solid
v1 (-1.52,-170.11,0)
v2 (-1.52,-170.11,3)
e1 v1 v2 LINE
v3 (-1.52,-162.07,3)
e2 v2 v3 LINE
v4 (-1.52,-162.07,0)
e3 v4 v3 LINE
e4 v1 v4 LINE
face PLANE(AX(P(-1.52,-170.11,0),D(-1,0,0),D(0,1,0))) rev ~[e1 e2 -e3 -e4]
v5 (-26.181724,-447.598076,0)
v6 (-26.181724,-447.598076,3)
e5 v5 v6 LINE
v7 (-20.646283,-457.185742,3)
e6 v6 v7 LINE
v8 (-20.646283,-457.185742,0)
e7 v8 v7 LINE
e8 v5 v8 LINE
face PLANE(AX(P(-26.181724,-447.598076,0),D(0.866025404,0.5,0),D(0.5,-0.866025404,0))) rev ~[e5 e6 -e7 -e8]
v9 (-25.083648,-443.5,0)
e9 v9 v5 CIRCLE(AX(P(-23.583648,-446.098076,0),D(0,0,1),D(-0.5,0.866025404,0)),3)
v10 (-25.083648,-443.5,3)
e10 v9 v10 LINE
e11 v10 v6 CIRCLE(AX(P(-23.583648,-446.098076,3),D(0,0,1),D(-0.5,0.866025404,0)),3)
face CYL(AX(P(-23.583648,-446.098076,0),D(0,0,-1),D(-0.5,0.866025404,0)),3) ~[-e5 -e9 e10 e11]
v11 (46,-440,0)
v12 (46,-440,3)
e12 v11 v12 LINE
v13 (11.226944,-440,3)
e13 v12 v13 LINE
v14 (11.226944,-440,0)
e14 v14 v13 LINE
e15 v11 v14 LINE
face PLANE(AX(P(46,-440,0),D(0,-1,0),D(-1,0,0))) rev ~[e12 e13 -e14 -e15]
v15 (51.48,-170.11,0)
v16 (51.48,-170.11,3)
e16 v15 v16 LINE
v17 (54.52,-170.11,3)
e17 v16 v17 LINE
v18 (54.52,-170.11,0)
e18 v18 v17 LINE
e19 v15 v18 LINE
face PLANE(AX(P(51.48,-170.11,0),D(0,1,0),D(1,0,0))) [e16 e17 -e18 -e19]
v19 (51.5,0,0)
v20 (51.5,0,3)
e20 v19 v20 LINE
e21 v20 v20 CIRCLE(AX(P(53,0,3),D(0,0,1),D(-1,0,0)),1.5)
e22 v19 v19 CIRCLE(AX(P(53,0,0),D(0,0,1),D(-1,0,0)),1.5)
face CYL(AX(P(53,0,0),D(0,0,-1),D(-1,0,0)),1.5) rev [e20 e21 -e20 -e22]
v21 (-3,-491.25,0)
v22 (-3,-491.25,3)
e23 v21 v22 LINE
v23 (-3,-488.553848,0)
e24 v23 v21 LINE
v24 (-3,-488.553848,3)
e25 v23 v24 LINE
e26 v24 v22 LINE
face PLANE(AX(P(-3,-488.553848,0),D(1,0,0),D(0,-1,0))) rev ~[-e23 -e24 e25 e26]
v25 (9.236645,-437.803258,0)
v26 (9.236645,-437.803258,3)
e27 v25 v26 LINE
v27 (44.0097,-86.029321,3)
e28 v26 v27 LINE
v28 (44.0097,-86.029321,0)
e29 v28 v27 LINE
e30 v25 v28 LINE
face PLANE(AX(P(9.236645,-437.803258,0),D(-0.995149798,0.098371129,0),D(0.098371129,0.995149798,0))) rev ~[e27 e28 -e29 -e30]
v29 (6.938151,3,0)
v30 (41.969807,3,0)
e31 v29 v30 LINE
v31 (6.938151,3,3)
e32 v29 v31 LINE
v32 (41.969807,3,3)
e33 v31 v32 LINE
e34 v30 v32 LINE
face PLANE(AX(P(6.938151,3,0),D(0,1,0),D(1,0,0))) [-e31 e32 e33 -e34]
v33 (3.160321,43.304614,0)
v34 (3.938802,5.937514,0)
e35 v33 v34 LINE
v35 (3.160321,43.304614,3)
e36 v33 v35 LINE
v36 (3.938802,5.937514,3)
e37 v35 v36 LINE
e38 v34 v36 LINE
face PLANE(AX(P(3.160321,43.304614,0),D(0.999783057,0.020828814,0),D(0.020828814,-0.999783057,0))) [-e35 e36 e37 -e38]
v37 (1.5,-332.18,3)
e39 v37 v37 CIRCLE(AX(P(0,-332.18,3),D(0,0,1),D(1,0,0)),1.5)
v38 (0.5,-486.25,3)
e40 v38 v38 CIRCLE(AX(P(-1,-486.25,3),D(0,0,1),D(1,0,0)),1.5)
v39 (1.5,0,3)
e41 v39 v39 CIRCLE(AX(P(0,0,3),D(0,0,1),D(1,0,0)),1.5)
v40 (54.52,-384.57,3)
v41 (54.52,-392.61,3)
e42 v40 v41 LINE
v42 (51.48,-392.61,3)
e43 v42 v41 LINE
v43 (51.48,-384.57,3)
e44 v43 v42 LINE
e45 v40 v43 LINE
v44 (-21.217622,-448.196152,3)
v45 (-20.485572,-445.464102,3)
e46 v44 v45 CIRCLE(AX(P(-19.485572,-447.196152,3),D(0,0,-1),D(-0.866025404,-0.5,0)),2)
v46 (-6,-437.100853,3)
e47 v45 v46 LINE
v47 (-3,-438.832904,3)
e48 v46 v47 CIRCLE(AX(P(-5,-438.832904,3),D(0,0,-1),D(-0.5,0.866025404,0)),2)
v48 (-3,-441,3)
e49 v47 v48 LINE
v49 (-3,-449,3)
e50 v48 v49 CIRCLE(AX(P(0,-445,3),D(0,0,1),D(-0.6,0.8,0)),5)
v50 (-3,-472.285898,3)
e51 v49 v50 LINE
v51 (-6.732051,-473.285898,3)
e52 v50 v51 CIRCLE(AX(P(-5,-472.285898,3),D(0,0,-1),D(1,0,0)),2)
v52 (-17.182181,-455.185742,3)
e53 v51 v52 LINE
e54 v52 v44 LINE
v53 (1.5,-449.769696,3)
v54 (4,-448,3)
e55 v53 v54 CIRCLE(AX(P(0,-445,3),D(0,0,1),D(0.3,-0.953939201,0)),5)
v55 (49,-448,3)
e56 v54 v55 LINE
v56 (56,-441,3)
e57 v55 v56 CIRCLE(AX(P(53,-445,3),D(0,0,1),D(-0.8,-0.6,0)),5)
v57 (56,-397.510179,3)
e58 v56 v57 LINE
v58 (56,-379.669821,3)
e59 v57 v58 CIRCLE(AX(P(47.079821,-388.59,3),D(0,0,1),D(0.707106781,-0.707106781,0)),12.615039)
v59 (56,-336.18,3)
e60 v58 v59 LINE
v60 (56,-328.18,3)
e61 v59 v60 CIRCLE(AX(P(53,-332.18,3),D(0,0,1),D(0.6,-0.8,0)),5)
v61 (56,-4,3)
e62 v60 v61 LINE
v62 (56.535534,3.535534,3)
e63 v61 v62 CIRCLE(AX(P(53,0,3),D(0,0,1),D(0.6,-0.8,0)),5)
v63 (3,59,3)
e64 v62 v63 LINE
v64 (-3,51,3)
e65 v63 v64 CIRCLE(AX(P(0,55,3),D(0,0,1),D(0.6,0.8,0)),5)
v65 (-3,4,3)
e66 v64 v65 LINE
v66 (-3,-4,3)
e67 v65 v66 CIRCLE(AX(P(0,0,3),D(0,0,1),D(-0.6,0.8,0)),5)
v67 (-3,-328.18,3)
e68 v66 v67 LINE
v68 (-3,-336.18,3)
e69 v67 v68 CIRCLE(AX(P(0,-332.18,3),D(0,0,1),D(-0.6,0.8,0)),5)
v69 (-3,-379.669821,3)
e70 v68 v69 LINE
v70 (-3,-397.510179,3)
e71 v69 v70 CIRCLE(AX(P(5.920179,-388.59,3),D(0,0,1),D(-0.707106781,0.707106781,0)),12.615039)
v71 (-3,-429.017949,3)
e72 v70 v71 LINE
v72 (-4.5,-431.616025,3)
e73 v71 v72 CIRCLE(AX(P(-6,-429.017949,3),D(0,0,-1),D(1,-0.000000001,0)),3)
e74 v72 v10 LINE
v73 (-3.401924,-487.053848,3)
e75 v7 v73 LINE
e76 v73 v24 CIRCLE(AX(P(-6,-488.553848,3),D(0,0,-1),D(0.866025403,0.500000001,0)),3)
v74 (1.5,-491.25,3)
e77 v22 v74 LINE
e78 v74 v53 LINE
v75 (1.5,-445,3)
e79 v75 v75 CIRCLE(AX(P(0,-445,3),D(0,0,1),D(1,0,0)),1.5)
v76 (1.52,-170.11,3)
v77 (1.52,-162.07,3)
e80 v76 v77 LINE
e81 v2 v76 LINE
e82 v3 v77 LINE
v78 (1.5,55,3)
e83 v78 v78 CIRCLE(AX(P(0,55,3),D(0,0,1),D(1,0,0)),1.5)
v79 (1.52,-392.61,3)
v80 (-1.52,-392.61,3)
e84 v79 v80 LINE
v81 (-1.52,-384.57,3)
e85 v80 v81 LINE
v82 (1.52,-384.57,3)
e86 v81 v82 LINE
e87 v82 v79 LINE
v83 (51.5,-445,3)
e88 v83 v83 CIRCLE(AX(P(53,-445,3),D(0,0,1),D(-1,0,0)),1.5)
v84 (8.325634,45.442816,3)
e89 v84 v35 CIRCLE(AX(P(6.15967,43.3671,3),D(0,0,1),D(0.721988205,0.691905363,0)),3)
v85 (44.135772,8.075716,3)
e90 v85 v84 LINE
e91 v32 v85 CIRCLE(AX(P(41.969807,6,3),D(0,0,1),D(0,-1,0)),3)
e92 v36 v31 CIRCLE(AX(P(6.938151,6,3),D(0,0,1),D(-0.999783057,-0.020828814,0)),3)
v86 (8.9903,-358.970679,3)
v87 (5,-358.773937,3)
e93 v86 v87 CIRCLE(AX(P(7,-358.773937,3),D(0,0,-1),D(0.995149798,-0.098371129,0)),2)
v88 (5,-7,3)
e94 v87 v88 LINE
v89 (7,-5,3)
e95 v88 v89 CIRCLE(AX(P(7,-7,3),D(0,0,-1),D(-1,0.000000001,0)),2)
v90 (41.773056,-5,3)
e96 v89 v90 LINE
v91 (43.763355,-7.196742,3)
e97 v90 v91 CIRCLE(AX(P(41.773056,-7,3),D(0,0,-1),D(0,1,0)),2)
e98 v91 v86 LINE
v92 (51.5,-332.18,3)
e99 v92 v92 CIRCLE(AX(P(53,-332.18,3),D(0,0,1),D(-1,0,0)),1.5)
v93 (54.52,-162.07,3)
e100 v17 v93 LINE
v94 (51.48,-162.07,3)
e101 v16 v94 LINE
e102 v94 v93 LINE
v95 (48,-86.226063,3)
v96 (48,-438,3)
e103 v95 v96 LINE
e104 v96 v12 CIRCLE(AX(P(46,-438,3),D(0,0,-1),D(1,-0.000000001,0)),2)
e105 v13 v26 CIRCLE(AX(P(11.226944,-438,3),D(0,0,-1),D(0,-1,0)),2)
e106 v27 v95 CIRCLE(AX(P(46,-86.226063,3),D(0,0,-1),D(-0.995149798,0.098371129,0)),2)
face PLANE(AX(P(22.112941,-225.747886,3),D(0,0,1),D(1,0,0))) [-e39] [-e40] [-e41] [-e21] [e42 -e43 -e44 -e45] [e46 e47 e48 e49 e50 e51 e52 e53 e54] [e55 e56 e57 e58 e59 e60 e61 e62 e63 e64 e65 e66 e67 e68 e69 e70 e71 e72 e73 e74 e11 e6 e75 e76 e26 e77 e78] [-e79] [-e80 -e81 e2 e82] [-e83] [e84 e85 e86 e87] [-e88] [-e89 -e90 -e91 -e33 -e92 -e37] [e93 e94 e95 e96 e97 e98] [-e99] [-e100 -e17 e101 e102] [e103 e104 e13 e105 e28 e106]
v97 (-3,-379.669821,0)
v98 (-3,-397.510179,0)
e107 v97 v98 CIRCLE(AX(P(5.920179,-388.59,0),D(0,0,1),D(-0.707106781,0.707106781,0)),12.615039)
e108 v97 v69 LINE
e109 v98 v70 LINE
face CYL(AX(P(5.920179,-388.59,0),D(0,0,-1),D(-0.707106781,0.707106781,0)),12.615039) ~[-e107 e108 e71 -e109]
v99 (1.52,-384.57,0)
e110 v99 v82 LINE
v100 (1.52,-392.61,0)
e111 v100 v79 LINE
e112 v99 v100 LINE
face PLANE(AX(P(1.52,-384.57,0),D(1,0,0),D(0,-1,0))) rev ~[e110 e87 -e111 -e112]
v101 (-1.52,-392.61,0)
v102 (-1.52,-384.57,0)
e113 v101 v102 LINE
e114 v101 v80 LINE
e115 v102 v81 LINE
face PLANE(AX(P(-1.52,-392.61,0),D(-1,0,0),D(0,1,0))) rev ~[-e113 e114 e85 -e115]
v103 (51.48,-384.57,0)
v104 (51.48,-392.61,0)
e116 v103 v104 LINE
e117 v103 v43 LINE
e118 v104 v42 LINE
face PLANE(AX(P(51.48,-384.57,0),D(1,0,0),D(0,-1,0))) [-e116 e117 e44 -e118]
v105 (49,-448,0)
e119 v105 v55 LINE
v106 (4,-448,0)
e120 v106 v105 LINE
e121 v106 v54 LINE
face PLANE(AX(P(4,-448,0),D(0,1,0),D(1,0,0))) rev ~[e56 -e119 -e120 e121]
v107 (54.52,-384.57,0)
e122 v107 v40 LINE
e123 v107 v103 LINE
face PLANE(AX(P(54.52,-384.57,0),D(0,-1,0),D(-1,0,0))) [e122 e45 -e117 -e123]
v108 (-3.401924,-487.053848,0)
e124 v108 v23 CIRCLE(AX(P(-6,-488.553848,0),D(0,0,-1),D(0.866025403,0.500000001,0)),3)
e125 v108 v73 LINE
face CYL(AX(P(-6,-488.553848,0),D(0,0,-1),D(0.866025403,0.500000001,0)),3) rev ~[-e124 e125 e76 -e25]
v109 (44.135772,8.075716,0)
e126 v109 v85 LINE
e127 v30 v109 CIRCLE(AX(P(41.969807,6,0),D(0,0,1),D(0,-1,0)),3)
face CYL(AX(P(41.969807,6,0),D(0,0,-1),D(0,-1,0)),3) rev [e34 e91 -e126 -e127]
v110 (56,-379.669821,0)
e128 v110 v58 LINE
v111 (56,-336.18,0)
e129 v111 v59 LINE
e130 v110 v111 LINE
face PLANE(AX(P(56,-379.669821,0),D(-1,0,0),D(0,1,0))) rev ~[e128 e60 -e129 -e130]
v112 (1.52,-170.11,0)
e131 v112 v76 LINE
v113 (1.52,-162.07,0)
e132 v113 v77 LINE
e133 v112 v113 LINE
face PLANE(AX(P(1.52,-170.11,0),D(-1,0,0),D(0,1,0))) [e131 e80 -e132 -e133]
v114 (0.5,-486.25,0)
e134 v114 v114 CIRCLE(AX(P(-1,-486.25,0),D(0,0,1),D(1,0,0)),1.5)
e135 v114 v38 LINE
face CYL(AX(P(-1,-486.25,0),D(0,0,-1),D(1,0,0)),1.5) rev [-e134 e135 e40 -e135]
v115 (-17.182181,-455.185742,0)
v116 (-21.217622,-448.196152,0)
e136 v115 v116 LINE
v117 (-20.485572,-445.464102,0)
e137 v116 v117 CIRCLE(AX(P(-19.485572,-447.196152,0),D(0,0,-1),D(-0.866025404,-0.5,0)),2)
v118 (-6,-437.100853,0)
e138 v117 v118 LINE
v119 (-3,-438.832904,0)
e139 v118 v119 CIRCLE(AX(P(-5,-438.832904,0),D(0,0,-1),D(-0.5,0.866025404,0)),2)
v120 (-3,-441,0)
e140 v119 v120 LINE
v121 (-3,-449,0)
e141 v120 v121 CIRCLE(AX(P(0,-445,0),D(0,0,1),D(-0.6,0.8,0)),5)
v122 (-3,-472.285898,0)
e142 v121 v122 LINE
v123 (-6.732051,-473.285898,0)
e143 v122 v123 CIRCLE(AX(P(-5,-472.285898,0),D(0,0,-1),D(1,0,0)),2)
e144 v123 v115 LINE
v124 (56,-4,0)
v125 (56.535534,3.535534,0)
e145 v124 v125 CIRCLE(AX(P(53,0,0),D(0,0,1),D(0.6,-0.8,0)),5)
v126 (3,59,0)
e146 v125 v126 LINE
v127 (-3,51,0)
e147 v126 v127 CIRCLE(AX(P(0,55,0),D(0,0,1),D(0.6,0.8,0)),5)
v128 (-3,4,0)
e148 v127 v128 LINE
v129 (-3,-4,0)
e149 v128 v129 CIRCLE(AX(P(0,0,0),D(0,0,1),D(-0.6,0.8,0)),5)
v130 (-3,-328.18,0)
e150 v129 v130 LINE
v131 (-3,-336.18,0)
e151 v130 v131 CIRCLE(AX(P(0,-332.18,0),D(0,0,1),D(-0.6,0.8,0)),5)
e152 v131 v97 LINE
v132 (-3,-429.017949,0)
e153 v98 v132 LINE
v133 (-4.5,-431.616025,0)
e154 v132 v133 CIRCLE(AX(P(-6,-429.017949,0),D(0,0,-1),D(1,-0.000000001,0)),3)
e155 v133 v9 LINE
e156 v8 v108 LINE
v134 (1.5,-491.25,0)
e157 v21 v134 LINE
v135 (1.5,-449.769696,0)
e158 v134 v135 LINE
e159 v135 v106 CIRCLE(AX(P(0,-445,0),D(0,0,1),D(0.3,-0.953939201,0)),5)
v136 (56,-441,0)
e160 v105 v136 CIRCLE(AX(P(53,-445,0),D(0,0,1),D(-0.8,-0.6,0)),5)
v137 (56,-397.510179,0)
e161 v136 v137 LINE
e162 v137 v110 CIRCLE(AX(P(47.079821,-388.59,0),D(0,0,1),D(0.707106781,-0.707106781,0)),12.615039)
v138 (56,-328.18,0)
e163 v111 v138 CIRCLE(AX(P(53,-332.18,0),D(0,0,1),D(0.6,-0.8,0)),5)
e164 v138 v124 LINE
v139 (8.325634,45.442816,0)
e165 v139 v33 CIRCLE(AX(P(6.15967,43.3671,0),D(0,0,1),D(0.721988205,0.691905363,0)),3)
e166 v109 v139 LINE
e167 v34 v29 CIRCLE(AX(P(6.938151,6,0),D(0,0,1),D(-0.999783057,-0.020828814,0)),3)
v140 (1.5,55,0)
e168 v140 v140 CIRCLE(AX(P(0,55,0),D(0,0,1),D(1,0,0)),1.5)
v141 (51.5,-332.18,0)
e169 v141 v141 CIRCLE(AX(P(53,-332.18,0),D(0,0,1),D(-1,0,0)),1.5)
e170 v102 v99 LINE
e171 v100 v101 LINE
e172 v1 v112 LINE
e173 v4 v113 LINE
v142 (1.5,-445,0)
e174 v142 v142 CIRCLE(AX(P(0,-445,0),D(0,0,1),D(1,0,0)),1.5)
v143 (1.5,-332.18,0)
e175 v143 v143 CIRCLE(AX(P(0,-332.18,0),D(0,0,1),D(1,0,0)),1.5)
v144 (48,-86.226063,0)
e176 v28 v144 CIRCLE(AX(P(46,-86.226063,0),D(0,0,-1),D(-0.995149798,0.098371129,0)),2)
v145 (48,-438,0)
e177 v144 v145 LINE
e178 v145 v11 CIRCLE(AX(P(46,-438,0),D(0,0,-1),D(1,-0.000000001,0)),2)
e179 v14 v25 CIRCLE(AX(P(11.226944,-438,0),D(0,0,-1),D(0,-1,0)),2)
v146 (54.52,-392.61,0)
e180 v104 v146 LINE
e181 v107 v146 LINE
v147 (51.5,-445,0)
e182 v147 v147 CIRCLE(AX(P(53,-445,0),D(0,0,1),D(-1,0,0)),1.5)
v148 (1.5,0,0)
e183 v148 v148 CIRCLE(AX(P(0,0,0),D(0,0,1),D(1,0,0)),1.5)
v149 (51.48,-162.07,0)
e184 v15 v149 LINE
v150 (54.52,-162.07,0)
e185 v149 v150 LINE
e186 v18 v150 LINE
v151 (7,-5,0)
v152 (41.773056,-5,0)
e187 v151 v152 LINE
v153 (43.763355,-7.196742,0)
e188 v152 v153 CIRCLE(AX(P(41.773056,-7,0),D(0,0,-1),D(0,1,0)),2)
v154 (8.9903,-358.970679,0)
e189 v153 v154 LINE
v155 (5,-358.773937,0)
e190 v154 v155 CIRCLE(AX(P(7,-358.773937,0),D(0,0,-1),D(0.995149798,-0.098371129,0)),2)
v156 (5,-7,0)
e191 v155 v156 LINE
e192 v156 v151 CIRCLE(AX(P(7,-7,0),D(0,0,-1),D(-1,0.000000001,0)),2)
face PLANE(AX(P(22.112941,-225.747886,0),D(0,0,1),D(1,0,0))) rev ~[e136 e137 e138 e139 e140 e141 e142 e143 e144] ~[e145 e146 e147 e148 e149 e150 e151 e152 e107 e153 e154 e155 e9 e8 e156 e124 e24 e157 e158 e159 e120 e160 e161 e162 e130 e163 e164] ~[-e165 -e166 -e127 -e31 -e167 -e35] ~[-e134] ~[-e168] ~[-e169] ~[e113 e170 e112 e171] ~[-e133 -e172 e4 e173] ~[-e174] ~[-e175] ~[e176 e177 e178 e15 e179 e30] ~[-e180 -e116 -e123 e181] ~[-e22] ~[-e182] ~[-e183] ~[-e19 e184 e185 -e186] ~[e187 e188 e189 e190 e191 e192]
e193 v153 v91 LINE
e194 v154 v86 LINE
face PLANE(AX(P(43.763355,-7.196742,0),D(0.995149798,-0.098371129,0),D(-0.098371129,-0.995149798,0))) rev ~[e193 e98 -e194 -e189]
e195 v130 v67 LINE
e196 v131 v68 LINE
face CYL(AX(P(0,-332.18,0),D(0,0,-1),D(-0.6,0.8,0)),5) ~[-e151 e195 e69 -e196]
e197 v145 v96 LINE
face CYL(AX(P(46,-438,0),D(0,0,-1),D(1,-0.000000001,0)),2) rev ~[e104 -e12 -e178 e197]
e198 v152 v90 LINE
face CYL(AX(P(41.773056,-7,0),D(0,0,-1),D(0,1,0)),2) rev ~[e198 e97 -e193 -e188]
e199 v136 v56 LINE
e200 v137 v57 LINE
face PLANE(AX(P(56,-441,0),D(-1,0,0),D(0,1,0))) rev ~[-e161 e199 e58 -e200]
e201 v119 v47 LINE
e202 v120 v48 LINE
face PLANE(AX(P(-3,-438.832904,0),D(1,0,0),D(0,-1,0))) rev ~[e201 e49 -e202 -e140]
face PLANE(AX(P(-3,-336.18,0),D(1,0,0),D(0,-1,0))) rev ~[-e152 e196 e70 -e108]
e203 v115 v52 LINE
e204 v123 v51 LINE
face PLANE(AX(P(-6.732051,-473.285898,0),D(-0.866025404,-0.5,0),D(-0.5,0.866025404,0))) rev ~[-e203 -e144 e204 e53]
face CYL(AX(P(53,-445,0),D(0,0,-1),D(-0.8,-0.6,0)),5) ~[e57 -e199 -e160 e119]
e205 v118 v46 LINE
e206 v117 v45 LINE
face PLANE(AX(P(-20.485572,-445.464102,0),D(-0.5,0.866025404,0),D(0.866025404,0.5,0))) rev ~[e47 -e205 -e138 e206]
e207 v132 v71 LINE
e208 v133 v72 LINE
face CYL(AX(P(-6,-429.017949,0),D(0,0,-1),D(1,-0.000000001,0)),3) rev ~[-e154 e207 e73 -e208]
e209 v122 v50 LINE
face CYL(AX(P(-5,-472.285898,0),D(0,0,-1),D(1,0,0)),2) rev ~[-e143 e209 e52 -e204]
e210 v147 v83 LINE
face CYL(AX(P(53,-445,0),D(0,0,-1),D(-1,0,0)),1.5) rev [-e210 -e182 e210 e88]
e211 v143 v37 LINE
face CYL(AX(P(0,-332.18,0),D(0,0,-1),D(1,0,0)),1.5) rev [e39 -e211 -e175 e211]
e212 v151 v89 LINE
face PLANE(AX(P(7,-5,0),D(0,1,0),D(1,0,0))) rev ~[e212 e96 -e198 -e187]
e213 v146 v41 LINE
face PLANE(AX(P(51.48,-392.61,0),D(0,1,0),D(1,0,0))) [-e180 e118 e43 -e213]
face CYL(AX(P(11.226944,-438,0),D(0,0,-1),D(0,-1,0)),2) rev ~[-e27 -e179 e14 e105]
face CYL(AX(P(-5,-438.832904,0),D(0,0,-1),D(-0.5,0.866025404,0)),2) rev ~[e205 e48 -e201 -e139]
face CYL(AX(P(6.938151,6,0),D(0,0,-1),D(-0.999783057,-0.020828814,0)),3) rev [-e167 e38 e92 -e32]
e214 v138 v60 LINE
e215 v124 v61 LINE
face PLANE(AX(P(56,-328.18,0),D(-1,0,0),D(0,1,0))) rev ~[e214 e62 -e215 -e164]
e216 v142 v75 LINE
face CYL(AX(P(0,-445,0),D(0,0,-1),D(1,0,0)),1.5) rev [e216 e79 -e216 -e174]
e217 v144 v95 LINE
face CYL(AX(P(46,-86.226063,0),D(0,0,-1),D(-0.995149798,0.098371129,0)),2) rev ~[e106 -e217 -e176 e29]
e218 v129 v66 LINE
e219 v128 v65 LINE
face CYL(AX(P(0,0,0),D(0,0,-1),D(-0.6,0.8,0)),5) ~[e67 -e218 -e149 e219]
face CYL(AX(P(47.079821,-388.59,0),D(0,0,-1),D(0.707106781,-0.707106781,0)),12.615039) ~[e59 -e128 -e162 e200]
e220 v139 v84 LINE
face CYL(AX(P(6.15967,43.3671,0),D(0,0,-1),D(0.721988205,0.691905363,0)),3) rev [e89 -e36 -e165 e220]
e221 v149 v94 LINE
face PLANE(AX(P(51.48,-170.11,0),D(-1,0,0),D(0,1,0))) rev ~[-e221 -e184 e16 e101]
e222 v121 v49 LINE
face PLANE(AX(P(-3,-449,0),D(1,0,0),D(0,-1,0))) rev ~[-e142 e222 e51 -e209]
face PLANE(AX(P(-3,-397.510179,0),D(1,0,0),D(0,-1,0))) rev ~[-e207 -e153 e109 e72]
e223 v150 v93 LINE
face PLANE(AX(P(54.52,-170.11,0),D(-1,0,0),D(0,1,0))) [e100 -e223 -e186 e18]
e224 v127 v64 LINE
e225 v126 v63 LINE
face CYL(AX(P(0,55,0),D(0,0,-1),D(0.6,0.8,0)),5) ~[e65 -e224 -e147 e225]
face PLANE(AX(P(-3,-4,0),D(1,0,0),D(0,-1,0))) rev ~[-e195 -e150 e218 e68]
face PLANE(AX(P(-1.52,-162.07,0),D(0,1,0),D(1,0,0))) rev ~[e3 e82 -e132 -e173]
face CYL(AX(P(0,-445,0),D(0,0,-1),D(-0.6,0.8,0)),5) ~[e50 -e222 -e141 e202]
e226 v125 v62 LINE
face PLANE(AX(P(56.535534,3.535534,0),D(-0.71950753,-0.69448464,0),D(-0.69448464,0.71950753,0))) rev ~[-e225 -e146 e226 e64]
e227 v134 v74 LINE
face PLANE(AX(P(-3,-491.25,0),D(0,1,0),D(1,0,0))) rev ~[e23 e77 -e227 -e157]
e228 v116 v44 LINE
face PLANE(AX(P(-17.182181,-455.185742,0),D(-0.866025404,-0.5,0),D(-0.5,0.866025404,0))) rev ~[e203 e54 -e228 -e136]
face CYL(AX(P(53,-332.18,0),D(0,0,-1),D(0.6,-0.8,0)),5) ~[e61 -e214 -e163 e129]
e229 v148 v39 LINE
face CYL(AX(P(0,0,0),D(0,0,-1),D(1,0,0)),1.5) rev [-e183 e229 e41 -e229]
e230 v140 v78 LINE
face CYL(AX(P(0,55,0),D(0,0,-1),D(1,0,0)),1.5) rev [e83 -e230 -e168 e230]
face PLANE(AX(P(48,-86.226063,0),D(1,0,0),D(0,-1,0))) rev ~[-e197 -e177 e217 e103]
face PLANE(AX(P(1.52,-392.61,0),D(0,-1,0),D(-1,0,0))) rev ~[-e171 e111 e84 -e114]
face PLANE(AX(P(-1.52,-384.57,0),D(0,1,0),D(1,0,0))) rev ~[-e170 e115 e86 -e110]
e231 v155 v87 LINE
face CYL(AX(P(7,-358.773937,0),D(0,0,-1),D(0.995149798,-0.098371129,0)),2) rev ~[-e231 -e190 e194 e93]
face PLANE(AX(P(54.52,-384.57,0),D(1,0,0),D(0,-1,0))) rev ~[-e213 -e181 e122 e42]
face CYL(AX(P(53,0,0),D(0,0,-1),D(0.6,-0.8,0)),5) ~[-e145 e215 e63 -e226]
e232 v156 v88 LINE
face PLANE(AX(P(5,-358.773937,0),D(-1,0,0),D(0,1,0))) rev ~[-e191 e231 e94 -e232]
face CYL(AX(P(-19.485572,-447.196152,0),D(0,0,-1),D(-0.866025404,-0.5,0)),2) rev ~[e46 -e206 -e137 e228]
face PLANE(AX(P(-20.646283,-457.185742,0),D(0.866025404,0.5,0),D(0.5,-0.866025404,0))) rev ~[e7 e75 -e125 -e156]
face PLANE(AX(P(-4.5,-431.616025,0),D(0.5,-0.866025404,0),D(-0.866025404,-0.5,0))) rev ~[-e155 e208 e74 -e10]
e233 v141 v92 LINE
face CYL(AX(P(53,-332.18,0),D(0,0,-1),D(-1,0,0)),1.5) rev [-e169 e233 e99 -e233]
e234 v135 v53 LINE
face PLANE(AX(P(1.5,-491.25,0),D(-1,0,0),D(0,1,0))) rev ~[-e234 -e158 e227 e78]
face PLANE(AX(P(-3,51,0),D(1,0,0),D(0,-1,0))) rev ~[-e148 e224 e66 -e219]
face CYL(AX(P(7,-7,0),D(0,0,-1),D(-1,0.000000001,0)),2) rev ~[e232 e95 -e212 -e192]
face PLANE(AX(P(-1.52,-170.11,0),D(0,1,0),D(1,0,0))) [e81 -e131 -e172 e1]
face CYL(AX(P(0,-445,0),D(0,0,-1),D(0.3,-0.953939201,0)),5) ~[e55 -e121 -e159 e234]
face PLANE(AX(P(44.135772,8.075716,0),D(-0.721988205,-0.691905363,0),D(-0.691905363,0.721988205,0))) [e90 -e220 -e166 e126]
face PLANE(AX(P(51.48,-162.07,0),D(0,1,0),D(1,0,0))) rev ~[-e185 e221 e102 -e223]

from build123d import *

# Parameters (mm, degrees)
SKETCH_1_R      = 1.5
SKETCH_1_W      = 3.04
SKETCH_1_H      = 8.04
EXTRUDE_1_DEPTH = 3


with BuildPart() as part:
    # 草图1 → 凸台-拉伸1 (new body)
    with BuildSketch(Plane.XY):
        with BuildLine():
            Line((-3, -4), (-3, -328.18))
            ThreePointArc((-3, -328.18), (-5, -332.18), (-3, -336.18))
            Line((-3, -336.18), (-3, -379.66982063))
            ThreePointArc((-3, -379.66982063), (-6.694859274, -388.59), (-3, -397.51017937))
            Line((-3, -397.51017937), (-3, -429.017949192))
            ThreePointArc((-3, -429.017949192), (-3.401923789, -430.517949192), (-4.5, -431.616025404))
            Line((-4.5, -431.616025404), (-25.083647797, -443.5))
            ThreePointArc((-25.083647797, -443.5), (-26.481425275, -445.321619076), (-26.181724008, -447.598076211))
            Line((-26.181724008, -447.598076211), (-20.646282865, -457.185741513))
            Line((-20.646282865, -457.185741513), (-3.401923789, -487.053847577))
            ThreePointArc((-3.401923789, -487.053847577), (-3.102222521, -487.777390442), (-3, -488.553847577))
            Line((-3, -488.553847577), (-3, -491.25))
            Line((-3, -491.25), (1.5, -491.25))
            Line((1.5, -491.25), (1.5, -487.35037357))
            Line((1.5, -487.35037357), (1.5, -485.14962643))
            Line((1.5, -485.14962643), (1.5, -449.769696007))
            ThreePointArc((1.5, -449.769696007), (2.888850289, -449.080997918), (4, -448))
            Line((4, -448), (49, -448))
            ThreePointArc((49, -448), (56.535533906, -448.535533906), (56, -441))
            Line((56, -441), (56, -397.51017937))
            ThreePointArc((56, -397.51017937), (59.694859274, -388.59), (56, -379.66982063))
            Line((56, -379.66982063), (56, -336.18))
            ThreePointArc((56, -336.18), (58, -332.18), (56, -328.18))
            Line((56, -328.18), (56, -4))
            ThreePointArc((56, -4), (57.987421044, -0.3544451), (56.535533906, 3.535533906))
            Line((56.535533906, 3.535533906), (3, 59))
            ThreePointArc((3, 59), (-4, 58), (-3, 51))
            Line((-3, 51), (-3, 4))
            ThreePointArc((-3, 4), (-5, 0), (-3, -4))
        make_face()
        Circle(SKETCH_1_R, mode=Mode.SUBTRACT)
        with Locations((0, -445)):
            Circle(SKETCH_1_R, mode=Mode.SUBTRACT)
        with Locations((0, -332.18)):
            Circle(SKETCH_1_R, mode=Mode.SUBTRACT)
        with Locations(Location((53, -332.18, 0), (0, 0, 180))):
            Circle(SKETCH_1_R, mode=Mode.SUBTRACT)
        with Locations(Location((53, -445, 0), (0, 0, 180))):
            Circle(SKETCH_1_R, mode=Mode.SUBTRACT)
        with Locations(Location((53, 0, 0), (0, 0, 180))):
            Circle(SKETCH_1_R, mode=Mode.SUBTRACT)
        with Locations((0, 55)):
            Circle(SKETCH_1_R, mode=Mode.SUBTRACT)
        with Locations((-1, -486.25)):
            Circle(SKETCH_1_R, mode=Mode.SUBTRACT)
        with BuildLine():
            Line((6.938150971, 3), (41.969807465, 3))
            ThreePointArc((41.969807465, 3), (44.729078046, 4.822534134), (44.135772081, 8.07571609))
            Line((44.135772081, 8.07571609), (8.325634331, 45.44281635))
            ThreePointArc((8.325634331, 45.44281635), (5.012233456, 46.138993121), (3.160320545, 43.30461382))
            Line((3.160320545, 43.30461382), (3.938801801, 5.937513559))
            ThreePointArc((3.938801801, 5.937513559), (4.839039174, 3.85670122), (6.938150971, 3))
        make_face(mode=Mode.SUBTRACT)
        with BuildLine():
            Line((48, -86.226063366), (48, -438))
            ThreePointArc((48, -438), (47.414213562, -439.414213562), (46, -440))
            Line((46, -440), (11.226944195, -440))
            ThreePointArc((11.226944195, -440), (9.744803089, -439.342854326), (9.236644598, -437.803257741))
            Line((9.236644598, -437.803257741), (44.009700404, -86.029321107))
            ThreePointArc((44.009700404, -86.029321107), (46.098490627, -84.228489939), (48, -86.226063366))
        make_face(mode=Mode.SUBTRACT)
        with BuildLine():
            Line((43.763355402, -7.196742259), (8.990299596, -358.970678893))
            ThreePointArc((8.990299596, -358.970678893), (6.901509373, -360.771510061), (5, -358.773936634))
            Line((5, -358.773936634), (5, -7))
            ThreePointArc((5, -7), (5.585786438, -5.585786438), (7, -5))
            Line((7, -5), (41.773055805, -5))
            ThreePointArc((41.773055805, -5), (43.255196911, -5.657145674), (43.763355402, -7.196742259))
        make_face(mode=Mode.SUBTRACT)
        with BuildLine():
            Line((-17.18218125, -455.185741513), (-21.217622393, -448.196152423))
            ThreePointArc((-21.217622393, -448.196152423), (-21.417423238, -446.678514333), (-20.485571585, -445.464101615))
            Line((-20.485571585, -445.464101615), (-6, -437.100852961))
            ThreePointArc((-6, -437.100852961), (-4, -437.100852961), (-3, -438.832903769))
            Line((-3, -438.832903769), (-3, -441))
            ThreePointArc((-3, -441), (-5, -445), (-3, -449))
            Line((-3, -449), (-3, -472.285898385))
            ThreePointArc((-3, -472.285898385), (-4.48236191, -474.217750037), (-6.732050808, -473.285898385))
            Line((-6.732050808, -473.285898385), (-17.18218125, -455.185741513))
        make_face(mode=Mode.SUBTRACT)
        Polygon((-1.52, -388.59), (-1.52, -384.57), (1.52, -384.57), (1.52, -392.61), (-1.52, -392.61), align=None, mode=Mode.SUBTRACT)
        Polygon((54.52, -392.61), (54.52, -388.59), (54.52, -384.57), (51.48, -384.57), (51.48, -392.61), align=None, mode=Mode.SUBTRACT)
        with Locations((53, -166.09)):
            Rectangle(SKETCH_1_W, SKETCH_1_H, mode=Mode.SUBTRACT)
        with Locations((0, -166.09)):
            Rectangle(SKETCH_1_W, SKETCH_1_H, mode=Mode.SUBTRACT)
    extrude(amount=EXTRUDE_1_DEPTH)


solid = part.part
